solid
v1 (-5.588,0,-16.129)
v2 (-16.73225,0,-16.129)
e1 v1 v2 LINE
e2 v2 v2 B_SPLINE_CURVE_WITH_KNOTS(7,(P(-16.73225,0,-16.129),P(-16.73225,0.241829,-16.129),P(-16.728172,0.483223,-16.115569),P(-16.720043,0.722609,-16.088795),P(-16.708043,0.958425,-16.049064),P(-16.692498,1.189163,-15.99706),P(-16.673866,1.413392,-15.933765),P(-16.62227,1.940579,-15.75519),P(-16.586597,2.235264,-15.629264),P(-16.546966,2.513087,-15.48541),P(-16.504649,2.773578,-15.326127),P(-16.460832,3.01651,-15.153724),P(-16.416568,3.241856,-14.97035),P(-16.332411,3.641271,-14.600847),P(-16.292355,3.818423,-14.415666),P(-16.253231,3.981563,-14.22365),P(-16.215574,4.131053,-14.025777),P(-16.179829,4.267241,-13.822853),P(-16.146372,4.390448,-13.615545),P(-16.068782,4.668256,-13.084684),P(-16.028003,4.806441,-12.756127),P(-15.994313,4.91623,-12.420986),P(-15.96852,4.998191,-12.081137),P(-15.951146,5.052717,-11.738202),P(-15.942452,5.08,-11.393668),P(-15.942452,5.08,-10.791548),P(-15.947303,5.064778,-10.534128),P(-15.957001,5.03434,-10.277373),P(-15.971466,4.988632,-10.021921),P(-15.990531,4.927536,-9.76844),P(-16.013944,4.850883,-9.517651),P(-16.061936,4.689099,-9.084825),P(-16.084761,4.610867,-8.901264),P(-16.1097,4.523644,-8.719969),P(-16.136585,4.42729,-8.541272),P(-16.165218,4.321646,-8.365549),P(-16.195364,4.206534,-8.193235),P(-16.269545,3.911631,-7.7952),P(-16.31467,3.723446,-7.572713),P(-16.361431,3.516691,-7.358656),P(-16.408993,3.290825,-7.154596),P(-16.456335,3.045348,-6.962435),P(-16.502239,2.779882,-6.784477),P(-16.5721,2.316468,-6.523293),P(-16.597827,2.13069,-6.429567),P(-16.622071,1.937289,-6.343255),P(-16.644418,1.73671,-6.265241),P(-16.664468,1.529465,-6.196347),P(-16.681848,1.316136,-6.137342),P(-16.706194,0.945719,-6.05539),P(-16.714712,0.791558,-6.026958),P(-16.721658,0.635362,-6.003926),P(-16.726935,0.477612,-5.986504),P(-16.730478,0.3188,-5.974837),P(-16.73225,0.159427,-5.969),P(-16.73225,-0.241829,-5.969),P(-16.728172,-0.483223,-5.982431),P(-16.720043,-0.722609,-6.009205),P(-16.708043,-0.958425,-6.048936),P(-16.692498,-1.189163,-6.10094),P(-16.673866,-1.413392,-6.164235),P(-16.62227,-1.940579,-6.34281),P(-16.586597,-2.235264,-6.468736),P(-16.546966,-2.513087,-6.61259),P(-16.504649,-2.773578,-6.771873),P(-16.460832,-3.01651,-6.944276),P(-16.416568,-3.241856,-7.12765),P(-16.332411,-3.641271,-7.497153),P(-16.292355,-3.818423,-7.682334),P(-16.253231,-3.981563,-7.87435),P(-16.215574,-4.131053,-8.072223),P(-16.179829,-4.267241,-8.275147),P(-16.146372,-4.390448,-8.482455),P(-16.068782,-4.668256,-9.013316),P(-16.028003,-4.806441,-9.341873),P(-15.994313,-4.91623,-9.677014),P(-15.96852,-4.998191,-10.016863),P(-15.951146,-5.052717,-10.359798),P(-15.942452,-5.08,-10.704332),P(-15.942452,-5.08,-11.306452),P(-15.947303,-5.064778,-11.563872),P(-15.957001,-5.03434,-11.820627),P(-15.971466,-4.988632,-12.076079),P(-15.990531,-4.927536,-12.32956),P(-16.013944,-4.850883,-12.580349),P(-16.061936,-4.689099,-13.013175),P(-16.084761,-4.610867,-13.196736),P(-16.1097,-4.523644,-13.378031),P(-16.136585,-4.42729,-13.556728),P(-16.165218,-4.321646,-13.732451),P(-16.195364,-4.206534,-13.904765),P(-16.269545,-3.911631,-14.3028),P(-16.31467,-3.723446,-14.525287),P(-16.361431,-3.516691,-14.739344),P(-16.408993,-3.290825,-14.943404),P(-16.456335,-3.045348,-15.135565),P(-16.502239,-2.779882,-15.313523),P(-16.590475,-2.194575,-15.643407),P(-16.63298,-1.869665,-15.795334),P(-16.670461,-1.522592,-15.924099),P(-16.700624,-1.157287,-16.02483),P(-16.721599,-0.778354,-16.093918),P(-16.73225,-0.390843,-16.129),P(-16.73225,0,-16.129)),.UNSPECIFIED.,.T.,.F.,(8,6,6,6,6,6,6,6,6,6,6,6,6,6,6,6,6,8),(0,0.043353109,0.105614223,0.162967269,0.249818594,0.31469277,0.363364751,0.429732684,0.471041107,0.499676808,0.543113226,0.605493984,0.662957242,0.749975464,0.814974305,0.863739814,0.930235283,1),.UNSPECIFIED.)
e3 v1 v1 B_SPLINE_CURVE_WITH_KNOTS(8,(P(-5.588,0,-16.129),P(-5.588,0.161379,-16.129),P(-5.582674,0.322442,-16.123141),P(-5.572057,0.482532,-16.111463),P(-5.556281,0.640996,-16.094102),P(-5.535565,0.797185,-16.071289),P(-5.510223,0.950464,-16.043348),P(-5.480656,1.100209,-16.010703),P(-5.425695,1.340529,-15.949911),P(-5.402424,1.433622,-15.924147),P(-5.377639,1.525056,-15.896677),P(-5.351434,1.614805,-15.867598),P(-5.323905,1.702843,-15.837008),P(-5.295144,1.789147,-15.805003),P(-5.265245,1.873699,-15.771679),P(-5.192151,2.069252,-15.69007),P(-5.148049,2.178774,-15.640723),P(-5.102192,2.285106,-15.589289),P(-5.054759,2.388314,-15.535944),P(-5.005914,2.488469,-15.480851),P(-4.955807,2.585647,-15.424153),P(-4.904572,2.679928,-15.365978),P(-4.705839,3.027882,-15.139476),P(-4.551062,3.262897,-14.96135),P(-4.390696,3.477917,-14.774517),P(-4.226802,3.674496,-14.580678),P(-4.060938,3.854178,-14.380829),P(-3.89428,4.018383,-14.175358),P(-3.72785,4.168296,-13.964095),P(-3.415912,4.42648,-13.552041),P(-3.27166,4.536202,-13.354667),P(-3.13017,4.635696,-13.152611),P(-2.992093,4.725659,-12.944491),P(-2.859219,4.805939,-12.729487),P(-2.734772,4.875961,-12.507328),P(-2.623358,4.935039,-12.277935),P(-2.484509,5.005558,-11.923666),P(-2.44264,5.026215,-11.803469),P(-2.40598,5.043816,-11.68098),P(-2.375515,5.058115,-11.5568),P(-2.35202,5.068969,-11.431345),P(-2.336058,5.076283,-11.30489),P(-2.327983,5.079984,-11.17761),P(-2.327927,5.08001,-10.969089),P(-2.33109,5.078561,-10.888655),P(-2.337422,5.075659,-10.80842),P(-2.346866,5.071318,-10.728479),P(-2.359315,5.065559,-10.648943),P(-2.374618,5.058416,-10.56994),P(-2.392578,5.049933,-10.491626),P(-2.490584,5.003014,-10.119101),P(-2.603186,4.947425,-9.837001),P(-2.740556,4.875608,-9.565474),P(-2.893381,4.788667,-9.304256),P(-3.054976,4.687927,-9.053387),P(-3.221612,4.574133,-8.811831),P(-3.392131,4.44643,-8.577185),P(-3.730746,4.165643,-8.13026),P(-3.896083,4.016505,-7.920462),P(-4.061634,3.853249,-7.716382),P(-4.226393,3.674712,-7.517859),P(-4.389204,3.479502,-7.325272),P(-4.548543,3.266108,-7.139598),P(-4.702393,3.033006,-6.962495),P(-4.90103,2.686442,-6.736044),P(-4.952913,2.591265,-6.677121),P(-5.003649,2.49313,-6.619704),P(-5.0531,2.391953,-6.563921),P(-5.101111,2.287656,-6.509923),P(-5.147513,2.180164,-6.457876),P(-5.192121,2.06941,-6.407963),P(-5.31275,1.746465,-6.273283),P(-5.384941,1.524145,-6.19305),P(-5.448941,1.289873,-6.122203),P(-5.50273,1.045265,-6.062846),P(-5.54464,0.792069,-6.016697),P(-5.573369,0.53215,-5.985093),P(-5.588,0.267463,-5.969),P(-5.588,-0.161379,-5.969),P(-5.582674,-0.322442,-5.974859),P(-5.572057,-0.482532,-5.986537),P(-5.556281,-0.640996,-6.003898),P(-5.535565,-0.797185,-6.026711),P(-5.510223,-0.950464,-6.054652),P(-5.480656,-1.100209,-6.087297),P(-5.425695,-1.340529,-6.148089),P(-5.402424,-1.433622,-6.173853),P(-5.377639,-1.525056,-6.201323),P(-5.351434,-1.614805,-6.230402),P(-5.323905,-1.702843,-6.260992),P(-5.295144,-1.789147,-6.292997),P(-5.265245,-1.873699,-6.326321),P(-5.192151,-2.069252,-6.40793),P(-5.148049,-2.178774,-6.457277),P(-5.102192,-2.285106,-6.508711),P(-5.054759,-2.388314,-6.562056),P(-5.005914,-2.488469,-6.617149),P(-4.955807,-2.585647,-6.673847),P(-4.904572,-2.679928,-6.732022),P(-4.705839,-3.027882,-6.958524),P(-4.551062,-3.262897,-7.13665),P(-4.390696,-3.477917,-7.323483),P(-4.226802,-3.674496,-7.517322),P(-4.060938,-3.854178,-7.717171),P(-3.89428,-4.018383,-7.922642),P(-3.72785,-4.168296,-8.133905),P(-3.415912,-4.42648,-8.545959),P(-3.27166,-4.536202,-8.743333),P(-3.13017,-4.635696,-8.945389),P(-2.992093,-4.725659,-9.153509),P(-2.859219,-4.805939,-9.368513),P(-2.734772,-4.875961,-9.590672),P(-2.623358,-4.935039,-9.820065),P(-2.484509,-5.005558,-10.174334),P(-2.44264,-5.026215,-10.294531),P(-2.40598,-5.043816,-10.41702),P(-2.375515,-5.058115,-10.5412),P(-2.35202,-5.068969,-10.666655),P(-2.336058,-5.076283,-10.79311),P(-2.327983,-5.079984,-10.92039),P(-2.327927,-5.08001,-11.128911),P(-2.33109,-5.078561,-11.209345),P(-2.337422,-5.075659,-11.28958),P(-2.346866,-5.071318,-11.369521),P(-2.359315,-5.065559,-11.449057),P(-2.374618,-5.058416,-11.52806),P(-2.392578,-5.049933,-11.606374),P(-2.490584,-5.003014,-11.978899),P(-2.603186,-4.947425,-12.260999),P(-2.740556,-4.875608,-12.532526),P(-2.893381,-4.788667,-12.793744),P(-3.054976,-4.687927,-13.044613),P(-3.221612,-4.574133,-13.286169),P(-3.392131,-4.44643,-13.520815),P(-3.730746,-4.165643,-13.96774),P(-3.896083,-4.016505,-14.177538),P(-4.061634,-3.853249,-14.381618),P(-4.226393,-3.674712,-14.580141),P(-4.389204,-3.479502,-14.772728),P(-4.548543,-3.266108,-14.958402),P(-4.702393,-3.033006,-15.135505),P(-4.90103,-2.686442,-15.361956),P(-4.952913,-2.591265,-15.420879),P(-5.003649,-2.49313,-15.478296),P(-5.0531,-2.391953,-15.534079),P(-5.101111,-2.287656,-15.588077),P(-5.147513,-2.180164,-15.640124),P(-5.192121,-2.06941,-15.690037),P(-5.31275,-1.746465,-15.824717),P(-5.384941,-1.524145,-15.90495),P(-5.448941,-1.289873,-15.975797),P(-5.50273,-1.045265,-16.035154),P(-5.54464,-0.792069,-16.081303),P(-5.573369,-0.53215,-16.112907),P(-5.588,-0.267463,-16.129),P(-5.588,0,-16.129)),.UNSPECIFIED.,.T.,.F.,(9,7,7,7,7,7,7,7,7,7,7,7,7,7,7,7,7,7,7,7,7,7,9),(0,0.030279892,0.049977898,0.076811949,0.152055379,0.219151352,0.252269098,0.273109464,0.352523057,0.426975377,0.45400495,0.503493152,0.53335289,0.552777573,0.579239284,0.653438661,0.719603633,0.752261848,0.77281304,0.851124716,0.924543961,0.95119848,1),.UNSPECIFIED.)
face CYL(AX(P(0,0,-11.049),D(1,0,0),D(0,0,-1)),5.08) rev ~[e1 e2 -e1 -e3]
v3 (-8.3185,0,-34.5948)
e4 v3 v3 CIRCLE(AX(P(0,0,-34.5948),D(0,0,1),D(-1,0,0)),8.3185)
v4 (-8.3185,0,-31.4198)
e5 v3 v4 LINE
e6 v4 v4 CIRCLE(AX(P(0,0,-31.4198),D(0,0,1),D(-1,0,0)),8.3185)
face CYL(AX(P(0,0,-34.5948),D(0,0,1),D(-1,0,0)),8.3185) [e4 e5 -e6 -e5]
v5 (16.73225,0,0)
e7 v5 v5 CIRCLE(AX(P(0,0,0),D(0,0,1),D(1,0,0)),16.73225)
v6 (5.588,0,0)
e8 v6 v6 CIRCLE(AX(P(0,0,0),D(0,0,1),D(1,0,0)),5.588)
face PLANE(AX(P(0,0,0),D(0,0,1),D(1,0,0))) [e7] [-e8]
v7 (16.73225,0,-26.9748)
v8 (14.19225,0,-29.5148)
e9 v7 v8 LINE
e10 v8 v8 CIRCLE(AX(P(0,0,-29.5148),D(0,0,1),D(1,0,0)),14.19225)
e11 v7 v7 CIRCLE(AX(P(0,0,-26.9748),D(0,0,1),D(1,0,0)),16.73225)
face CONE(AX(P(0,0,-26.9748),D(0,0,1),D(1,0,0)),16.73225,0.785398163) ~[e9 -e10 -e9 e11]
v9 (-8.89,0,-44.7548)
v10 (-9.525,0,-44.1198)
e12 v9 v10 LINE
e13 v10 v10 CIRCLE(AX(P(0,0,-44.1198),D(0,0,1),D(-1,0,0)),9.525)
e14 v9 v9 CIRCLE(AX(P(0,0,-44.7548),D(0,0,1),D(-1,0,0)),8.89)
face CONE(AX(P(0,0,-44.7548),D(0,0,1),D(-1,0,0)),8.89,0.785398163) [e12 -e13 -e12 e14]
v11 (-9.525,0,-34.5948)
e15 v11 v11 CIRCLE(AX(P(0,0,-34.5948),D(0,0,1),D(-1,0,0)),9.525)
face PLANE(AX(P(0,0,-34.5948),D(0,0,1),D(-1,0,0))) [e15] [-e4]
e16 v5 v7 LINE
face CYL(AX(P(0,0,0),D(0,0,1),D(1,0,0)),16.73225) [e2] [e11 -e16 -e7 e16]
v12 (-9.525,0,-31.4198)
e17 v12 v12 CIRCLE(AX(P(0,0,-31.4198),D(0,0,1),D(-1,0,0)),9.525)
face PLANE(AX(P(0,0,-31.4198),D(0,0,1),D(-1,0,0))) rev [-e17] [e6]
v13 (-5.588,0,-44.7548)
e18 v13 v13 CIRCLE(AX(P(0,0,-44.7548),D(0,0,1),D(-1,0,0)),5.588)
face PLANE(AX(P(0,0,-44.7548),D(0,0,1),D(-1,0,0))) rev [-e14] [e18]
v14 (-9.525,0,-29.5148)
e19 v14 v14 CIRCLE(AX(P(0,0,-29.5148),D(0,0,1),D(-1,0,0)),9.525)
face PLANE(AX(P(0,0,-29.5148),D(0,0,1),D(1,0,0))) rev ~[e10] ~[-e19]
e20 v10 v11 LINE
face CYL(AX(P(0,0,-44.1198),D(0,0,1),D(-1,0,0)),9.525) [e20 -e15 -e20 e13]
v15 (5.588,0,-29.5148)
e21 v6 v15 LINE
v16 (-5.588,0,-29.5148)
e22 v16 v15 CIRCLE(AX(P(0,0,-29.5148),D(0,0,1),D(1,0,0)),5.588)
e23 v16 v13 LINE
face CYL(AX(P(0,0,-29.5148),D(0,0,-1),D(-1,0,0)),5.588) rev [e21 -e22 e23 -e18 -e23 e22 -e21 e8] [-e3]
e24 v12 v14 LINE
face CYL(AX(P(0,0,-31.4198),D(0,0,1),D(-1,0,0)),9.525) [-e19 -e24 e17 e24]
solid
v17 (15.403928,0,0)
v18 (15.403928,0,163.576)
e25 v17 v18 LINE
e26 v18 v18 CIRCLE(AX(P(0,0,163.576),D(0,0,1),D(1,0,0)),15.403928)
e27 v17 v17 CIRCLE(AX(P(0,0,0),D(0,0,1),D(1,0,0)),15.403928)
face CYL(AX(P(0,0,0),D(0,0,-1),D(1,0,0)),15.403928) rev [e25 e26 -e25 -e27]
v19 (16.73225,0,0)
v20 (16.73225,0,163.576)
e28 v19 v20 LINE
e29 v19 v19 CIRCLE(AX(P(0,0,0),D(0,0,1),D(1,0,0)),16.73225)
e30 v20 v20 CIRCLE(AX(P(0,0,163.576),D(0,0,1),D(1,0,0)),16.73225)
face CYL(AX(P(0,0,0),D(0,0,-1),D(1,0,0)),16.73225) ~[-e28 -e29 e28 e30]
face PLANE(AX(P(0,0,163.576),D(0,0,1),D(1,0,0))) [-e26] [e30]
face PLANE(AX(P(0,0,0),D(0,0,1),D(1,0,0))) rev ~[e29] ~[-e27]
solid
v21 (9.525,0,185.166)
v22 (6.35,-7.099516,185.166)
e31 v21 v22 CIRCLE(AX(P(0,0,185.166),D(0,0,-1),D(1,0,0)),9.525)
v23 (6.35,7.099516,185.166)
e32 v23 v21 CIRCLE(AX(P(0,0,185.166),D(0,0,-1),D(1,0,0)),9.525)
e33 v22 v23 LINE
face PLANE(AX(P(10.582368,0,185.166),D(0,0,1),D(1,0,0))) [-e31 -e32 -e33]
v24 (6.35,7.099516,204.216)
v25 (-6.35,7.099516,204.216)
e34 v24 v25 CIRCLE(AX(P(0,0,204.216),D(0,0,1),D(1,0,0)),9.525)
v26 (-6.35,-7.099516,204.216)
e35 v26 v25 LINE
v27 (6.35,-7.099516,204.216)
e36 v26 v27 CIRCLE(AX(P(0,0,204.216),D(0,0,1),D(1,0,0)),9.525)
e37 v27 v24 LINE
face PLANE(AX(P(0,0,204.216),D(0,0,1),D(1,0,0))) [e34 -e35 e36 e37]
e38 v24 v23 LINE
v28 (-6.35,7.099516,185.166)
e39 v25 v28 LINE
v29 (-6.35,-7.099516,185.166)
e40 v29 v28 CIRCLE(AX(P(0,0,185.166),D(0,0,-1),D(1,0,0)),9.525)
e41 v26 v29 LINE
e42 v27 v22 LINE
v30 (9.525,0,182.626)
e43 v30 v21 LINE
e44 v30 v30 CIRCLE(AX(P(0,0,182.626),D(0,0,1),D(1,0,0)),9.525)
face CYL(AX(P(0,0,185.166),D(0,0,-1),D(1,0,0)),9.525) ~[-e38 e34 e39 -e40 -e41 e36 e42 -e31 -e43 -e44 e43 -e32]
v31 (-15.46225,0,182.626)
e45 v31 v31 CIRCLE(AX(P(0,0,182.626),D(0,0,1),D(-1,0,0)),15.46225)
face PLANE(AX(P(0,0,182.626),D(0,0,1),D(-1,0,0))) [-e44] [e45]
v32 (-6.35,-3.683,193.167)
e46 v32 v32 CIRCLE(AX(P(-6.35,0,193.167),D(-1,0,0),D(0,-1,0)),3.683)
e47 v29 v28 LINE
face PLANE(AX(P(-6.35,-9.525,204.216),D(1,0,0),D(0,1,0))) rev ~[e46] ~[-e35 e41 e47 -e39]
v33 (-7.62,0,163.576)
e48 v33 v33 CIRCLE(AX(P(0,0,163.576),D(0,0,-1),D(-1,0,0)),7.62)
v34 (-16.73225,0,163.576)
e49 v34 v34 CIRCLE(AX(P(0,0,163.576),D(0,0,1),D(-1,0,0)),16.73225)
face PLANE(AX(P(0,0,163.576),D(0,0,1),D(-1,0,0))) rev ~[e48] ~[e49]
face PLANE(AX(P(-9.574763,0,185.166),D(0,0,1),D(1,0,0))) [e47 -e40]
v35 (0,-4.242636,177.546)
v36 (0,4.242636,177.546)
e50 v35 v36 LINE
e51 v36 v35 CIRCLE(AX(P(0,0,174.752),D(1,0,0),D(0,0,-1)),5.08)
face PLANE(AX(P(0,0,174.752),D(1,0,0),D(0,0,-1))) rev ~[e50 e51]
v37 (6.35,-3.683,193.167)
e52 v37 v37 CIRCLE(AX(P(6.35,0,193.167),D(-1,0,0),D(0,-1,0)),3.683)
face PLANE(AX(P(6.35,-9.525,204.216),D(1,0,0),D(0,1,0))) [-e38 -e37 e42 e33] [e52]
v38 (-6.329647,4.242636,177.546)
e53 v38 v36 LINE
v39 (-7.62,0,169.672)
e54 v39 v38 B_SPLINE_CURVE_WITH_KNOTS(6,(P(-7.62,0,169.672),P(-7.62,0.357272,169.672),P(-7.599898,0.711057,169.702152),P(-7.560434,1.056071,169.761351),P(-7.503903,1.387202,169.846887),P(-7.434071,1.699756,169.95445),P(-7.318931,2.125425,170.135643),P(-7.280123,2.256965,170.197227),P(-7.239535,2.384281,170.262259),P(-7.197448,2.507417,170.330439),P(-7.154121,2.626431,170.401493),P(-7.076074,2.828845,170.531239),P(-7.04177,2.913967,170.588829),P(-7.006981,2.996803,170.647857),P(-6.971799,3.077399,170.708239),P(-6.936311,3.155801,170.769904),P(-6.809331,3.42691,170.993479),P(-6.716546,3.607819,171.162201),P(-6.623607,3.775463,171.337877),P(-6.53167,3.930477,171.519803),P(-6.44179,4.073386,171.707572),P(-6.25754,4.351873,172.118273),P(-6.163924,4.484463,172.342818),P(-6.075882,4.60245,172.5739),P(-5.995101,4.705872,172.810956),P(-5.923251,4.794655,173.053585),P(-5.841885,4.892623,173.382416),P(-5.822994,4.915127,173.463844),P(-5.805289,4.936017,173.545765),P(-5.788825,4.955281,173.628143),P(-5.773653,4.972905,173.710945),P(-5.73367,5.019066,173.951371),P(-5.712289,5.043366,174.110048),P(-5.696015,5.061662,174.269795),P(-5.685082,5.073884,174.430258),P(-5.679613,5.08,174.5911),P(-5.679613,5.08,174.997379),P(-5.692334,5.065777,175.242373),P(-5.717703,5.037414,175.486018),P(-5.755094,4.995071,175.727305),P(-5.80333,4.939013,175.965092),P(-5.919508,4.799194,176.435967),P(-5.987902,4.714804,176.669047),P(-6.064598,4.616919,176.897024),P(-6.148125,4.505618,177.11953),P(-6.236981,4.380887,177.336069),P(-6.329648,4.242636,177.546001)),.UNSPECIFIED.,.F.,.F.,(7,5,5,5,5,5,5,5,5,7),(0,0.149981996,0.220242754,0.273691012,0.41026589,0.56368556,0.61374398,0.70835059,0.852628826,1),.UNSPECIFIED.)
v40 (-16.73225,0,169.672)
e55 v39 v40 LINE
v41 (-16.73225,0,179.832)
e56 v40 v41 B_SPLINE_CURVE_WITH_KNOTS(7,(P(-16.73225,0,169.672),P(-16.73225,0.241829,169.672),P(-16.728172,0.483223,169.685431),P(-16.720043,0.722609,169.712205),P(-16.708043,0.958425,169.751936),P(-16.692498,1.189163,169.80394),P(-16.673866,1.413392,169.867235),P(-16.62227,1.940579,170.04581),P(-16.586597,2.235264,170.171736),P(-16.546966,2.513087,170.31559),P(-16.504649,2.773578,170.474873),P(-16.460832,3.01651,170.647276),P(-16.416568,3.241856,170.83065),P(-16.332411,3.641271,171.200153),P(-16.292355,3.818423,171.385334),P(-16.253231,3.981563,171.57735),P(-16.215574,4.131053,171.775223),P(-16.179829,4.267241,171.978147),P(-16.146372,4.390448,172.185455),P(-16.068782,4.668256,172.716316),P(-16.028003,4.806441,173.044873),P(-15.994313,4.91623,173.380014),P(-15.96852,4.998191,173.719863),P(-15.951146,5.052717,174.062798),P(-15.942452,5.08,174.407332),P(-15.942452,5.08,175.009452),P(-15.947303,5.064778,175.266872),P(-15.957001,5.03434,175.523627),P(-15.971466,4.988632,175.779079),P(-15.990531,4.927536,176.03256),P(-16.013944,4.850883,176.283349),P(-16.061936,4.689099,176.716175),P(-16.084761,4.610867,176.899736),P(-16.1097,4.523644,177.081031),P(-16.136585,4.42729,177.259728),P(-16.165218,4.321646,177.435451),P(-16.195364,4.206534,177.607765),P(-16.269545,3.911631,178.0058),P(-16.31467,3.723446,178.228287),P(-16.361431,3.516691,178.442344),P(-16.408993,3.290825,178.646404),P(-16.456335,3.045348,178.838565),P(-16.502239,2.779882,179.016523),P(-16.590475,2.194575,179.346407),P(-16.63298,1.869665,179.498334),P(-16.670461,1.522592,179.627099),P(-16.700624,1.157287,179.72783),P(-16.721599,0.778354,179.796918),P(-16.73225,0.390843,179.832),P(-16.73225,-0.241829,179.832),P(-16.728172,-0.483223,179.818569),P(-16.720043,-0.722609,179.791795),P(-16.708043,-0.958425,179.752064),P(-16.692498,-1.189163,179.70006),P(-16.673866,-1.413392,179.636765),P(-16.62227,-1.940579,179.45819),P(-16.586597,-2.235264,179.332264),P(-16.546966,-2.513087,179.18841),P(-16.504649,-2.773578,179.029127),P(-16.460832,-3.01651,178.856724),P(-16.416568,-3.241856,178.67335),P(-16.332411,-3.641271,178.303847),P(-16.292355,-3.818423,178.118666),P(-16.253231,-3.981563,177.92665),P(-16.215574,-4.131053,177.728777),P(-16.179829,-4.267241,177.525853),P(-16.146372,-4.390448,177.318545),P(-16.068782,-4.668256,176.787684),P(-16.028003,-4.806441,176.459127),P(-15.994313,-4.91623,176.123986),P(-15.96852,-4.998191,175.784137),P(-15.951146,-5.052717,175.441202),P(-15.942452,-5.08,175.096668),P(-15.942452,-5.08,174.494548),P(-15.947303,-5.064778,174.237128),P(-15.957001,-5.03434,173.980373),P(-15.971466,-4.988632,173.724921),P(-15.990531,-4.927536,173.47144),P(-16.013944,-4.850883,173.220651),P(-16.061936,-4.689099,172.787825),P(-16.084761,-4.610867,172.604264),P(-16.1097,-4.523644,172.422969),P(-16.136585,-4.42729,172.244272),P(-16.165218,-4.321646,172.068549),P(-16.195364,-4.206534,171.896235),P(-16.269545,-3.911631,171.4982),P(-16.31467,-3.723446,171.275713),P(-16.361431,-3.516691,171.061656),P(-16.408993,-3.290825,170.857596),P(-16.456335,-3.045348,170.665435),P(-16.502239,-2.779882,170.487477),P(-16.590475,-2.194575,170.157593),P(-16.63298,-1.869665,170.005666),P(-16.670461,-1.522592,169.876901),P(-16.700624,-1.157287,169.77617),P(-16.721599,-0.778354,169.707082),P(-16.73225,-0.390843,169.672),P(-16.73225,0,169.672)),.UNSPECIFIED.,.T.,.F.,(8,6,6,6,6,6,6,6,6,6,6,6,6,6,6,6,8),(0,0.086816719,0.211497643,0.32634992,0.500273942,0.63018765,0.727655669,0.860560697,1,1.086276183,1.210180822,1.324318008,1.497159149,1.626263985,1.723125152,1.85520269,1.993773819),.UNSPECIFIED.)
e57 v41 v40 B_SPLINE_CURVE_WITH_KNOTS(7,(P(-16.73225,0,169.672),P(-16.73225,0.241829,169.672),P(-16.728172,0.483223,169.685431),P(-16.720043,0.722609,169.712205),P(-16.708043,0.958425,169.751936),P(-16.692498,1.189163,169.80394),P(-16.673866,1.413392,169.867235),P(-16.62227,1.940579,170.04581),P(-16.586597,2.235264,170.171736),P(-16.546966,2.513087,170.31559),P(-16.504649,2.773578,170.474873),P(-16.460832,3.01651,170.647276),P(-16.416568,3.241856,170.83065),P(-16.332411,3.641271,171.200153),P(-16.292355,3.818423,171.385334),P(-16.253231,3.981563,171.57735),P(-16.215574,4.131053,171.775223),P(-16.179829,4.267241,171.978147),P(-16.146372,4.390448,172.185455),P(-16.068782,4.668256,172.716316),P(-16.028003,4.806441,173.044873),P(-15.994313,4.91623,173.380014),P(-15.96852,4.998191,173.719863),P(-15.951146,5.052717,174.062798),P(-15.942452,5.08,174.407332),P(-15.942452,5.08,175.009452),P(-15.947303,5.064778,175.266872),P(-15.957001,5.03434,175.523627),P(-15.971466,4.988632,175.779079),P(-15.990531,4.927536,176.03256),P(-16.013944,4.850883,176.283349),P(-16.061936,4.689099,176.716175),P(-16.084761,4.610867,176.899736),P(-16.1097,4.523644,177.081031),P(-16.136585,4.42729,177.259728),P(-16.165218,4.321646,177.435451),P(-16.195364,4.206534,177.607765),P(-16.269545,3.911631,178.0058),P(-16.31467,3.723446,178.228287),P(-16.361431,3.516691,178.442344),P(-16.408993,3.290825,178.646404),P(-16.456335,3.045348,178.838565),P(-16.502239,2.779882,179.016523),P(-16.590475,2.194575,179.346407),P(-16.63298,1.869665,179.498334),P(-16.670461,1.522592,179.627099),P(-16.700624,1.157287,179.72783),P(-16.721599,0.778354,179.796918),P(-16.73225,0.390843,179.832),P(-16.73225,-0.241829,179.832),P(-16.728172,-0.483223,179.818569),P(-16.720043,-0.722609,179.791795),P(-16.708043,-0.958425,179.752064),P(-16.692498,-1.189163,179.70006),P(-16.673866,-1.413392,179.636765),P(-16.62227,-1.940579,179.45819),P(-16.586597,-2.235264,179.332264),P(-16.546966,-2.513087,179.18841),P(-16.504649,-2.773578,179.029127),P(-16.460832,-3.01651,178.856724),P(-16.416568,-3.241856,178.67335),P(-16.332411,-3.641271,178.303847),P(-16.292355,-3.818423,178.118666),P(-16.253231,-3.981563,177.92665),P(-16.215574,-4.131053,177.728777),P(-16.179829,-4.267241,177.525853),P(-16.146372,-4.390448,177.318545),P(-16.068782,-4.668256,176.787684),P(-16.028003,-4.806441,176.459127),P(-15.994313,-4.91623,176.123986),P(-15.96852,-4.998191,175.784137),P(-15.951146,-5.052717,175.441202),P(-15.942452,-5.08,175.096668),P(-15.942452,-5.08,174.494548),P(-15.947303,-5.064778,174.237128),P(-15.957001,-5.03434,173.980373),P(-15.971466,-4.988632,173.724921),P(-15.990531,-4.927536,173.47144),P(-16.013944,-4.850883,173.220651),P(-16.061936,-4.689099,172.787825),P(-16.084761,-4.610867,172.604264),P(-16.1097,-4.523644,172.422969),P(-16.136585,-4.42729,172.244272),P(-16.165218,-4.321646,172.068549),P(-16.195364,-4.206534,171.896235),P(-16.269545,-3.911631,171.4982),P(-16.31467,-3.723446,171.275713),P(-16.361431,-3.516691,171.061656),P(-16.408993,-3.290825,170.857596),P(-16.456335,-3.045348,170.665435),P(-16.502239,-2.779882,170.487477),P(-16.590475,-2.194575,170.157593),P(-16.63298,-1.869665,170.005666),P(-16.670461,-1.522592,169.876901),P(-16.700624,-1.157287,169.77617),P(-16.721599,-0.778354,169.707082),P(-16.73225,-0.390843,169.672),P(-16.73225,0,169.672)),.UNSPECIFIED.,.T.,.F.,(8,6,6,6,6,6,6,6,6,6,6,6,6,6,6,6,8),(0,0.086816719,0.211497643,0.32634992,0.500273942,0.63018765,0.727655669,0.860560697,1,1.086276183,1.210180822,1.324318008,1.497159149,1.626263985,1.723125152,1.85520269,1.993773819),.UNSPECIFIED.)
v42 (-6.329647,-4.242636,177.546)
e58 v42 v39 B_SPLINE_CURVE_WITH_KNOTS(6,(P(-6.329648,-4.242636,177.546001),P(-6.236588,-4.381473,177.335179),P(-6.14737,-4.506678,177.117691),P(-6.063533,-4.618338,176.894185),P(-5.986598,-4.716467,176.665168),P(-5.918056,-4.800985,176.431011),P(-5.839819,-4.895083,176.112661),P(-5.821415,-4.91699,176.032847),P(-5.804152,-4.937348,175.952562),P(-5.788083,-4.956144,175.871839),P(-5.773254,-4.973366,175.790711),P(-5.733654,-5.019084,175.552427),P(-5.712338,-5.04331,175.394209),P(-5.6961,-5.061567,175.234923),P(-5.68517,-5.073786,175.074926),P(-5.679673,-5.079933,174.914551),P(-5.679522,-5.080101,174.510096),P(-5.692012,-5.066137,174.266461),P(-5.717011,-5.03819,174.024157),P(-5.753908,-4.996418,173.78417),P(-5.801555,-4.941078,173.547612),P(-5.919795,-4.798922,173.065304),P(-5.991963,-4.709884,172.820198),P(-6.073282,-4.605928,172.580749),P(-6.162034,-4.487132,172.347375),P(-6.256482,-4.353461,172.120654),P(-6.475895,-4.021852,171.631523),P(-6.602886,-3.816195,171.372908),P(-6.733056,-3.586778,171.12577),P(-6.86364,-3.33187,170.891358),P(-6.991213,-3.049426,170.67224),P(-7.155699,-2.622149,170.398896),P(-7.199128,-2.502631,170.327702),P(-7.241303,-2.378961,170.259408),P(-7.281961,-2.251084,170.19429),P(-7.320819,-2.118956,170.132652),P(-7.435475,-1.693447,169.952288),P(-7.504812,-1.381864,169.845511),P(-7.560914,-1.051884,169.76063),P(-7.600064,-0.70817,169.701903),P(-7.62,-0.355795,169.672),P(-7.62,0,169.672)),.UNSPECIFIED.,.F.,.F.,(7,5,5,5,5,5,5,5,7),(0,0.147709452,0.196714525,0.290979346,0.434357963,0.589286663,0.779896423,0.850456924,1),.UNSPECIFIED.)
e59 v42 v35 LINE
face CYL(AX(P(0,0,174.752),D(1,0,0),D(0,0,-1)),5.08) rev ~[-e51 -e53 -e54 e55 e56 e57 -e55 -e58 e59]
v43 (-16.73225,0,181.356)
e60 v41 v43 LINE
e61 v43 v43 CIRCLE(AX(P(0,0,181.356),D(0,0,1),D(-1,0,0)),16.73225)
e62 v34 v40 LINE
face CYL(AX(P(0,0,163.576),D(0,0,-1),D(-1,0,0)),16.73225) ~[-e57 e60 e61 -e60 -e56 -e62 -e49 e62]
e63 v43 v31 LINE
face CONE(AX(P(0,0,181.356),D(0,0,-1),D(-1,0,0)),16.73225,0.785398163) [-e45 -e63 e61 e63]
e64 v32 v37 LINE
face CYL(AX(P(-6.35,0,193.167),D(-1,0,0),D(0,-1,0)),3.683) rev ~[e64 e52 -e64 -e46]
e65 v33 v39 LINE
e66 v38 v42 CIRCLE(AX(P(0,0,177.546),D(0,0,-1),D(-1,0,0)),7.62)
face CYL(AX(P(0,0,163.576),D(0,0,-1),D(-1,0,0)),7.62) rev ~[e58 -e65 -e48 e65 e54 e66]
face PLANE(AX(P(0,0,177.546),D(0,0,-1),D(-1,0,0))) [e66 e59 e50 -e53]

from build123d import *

# Parameters (mm, degrees)
SKETCH1_R               = 16.73225
SKETCH1_R_2             = 15.403927615
CYCLENDAR_DEPTH         = 163.576
SKETCH2_R               = 16.73225
SKETCH2_R_2             = 5.588
NOSE_DEPTH              = 29.5148
NOSE_CHAMFER_SIZE       = 2.54
CUT_EXTRUDE1_REACH      = 167.279
CUT_EXTRUDE1_END_RADIUS = 16.73225
SKETCH3_R               = 5.08
SKETCH6_R               = 16.73225
TAIL_DEPTH              = 19.05
TAIL_CHAMFER_SIZE       = 1.27
SKETCH7_R               = 9.525
TAIL_MOUNT_DEPTH        = 2.54
SKETCH8_R               = 9.525
BOSS_EXTRUDE5_DEPTH     = 19.05
CUT_EXTRUDE2_REACH      = 207.582
CUT_EXTRUDE2_END_RADIUS = 16.73225
SKETCH9_R               = 5.08
SKETCH10_W              = 8.464736822
SKETCH10_H              = 19.05
SKETCH10_W_2            = 6.449526643
CUT_EXTRUDE3_DEPTH      = 19.05
SKETCH11_R              = 3.683
CUT_EXTRUDE4_DEPTH      = 12.7
SKETCH12_R              = 7.62
CUT_EXTRUDE5_DEPTH      = 13.97


with BuildPart() as part:
    # Sketch1 → Cyclendar (new body)
    with BuildSketch(Plane.XY):
        Circle(SKETCH1_R)
        Circle(SKETCH1_R_2, mode=Mode.SUBTRACT)
    extrude(amount=CYCLENDAR_DEPTH)


with BuildPart() as body_2:
    # Sketch2 → Nose (new body)
    with BuildSketch(Plane.XY):
        Circle(SKETCH2_R)
        Circle(SKETCH2_R_2, mode=Mode.SUBTRACT)
    extrude(amount=-NOSE_DEPTH)

    # Nose_Chamfer
    nose_chamfer_edges = [body_2.edges().sort_by_distance(p)[0] for p in [
        (-16.73225, 0, -29.5148),
    ]]
    chamfer(nose_chamfer_edges, length=NOSE_CHAMFER_SIZE)

    # Cut-Extrude1: up to this cylinder (the profile starts inside it)
    cut_extrude1_end = Plane(origin=(0, 0, -11.049), z_dir=(0, 0, 1)) * Cylinder(CUT_EXTRUDE1_END_RADIUS, 369.0225, mode=Mode.PRIVATE)
    # Sketch3 → Cut-Extrude1 (cut, up to the surface)
    with BuildSketch(Plane(origin=(0, 0, 0), x_dir=(0, 0, -1), z_dir=(1, 0, 0)), mode=Mode.PRIVATE) as cut_extrude1_sk1:
        with Locations((11.049, 0)):
            Circle(SKETCH3_R)
    cut_extrude1_tool1 = extrude(cut_extrude1_sk1.sketch, amount=-CUT_EXTRUDE1_REACH, mode=Mode.PRIVATE) & cut_extrude1_end
    add(cut_extrude1_tool1.solids().sort_by_distance((0, 0, -11.049))[0], mode=Mode.SUBTRACT)

    # Sketch4 → Revolve1 (revolve)
    with BuildSketch(Plane(origin=(0, 0, 0), x_dir=(1, 0, 0), z_dir=(0, 1, 0))):
        Polygon((-8.89, 44.7548), (-9.525, 44.1198), (-9.525, 34.5948), (-8.3185, 34.5948), (-8.3185, 31.4198), (-9.525, 31.4198), (-9.525, 29.5148), (-5.588, 29.5148), (-5.588, 44.7548), align=None)
    revolve(axis=Axis((0, 0, -26.9748), (0, 0, 1)))


with BuildPart() as body_3:
    # Sketch6 → Tail (new body)
    with BuildSketch(Plane.XY.offset(163.576)):
        with Locations(Location((0, 0, 0), (0, 0, 180))):
            Circle(SKETCH6_R)
    extrude(amount=TAIL_DEPTH)

    # Tail_Chamfer
    tail_chamfer_edges = [body_3.edges().sort_by_distance(p)[0] for p in [
        (16.73225, 0, 182.626),
    ]]
    chamfer(tail_chamfer_edges, length=TAIL_CHAMFER_SIZE)

    # Sketch7 → Tail_Mount (add)
    with BuildSketch(Plane.XY.offset(182.626)):
        Circle(SKETCH7_R)
    extrude(amount=TAIL_MOUNT_DEPTH)

    # Sketch8 → Boss-Extrude5 (add)
    with BuildSketch(Plane.XY.offset(185.166)):
        Circle(SKETCH8_R)
    extrude(amount=BOSS_EXTRUDE5_DEPTH)

    # Cut-Extrude2: up to this cylinder (the profile starts inside it)
    cut_extrude2_end = Plane(origin=(0, 0, 174.752), z_dir=(0, 0, -1)) * Cylinder(CUT_EXTRUDE2_END_RADIUS, 449.6285, mode=Mode.PRIVATE)
    # Sketch9 → Cut-Extrude2 (cut, up to the surface)
    with BuildSketch(Plane(origin=(0, 0, 0), x_dir=(0, 0, -1), z_dir=(1, 0, 0)), mode=Mode.PRIVATE) as cut_extrude2_sk1:
        with Locations((-174.752, 0)):
            Circle(SKETCH9_R)
    cut_extrude2_tool1 = extrude(cut_extrude2_sk1.sketch, amount=-CUT_EXTRUDE2_REACH, mode=Mode.PRIVATE) & cut_extrude2_end
    add(cut_extrude2_tool1.solids().sort_by_distance((0, 0, 174.752))[0], mode=Mode.SUBTRACT)

    # Sketch10 → Cut-Extrude3 (cut)
    with BuildSketch(Plane.XY.offset(204.216)):
        with Locations((10.582368411, 0)):
            Rectangle(SKETCH10_W, SKETCH10_H)
        with Locations((-9.574763322, 0)):
            Rectangle(SKETCH10_W_2, SKETCH10_H)
    extrude(amount=-CUT_EXTRUDE3_DEPTH, mode=Mode.SUBTRACT)

    # Sketch11 → Cut-Extrude4 (cut)
    with BuildSketch(Plane.ZY.offset(6.35)):
        with Locations(Location((193.167, 0, 0), (0, 0, 270))):
            Circle(SKETCH11_R)
    extrude(amount=-CUT_EXTRUDE4_DEPTH, mode=Mode.SUBTRACT)

    # Sketch12 → Cut-Extrude5 (cut)
    with BuildSketch(Plane(origin=(0, 0, 163.576), x_dir=(-1, 0, 0), z_dir=(0, 0, -1))):
        Circle(SKETCH12_R)
    extrude(amount=-CUT_EXTRUDE5_DEPTH, mode=Mode.SUBTRACT)


solid = Compound([part.part, body_2.part, body_3.part])
